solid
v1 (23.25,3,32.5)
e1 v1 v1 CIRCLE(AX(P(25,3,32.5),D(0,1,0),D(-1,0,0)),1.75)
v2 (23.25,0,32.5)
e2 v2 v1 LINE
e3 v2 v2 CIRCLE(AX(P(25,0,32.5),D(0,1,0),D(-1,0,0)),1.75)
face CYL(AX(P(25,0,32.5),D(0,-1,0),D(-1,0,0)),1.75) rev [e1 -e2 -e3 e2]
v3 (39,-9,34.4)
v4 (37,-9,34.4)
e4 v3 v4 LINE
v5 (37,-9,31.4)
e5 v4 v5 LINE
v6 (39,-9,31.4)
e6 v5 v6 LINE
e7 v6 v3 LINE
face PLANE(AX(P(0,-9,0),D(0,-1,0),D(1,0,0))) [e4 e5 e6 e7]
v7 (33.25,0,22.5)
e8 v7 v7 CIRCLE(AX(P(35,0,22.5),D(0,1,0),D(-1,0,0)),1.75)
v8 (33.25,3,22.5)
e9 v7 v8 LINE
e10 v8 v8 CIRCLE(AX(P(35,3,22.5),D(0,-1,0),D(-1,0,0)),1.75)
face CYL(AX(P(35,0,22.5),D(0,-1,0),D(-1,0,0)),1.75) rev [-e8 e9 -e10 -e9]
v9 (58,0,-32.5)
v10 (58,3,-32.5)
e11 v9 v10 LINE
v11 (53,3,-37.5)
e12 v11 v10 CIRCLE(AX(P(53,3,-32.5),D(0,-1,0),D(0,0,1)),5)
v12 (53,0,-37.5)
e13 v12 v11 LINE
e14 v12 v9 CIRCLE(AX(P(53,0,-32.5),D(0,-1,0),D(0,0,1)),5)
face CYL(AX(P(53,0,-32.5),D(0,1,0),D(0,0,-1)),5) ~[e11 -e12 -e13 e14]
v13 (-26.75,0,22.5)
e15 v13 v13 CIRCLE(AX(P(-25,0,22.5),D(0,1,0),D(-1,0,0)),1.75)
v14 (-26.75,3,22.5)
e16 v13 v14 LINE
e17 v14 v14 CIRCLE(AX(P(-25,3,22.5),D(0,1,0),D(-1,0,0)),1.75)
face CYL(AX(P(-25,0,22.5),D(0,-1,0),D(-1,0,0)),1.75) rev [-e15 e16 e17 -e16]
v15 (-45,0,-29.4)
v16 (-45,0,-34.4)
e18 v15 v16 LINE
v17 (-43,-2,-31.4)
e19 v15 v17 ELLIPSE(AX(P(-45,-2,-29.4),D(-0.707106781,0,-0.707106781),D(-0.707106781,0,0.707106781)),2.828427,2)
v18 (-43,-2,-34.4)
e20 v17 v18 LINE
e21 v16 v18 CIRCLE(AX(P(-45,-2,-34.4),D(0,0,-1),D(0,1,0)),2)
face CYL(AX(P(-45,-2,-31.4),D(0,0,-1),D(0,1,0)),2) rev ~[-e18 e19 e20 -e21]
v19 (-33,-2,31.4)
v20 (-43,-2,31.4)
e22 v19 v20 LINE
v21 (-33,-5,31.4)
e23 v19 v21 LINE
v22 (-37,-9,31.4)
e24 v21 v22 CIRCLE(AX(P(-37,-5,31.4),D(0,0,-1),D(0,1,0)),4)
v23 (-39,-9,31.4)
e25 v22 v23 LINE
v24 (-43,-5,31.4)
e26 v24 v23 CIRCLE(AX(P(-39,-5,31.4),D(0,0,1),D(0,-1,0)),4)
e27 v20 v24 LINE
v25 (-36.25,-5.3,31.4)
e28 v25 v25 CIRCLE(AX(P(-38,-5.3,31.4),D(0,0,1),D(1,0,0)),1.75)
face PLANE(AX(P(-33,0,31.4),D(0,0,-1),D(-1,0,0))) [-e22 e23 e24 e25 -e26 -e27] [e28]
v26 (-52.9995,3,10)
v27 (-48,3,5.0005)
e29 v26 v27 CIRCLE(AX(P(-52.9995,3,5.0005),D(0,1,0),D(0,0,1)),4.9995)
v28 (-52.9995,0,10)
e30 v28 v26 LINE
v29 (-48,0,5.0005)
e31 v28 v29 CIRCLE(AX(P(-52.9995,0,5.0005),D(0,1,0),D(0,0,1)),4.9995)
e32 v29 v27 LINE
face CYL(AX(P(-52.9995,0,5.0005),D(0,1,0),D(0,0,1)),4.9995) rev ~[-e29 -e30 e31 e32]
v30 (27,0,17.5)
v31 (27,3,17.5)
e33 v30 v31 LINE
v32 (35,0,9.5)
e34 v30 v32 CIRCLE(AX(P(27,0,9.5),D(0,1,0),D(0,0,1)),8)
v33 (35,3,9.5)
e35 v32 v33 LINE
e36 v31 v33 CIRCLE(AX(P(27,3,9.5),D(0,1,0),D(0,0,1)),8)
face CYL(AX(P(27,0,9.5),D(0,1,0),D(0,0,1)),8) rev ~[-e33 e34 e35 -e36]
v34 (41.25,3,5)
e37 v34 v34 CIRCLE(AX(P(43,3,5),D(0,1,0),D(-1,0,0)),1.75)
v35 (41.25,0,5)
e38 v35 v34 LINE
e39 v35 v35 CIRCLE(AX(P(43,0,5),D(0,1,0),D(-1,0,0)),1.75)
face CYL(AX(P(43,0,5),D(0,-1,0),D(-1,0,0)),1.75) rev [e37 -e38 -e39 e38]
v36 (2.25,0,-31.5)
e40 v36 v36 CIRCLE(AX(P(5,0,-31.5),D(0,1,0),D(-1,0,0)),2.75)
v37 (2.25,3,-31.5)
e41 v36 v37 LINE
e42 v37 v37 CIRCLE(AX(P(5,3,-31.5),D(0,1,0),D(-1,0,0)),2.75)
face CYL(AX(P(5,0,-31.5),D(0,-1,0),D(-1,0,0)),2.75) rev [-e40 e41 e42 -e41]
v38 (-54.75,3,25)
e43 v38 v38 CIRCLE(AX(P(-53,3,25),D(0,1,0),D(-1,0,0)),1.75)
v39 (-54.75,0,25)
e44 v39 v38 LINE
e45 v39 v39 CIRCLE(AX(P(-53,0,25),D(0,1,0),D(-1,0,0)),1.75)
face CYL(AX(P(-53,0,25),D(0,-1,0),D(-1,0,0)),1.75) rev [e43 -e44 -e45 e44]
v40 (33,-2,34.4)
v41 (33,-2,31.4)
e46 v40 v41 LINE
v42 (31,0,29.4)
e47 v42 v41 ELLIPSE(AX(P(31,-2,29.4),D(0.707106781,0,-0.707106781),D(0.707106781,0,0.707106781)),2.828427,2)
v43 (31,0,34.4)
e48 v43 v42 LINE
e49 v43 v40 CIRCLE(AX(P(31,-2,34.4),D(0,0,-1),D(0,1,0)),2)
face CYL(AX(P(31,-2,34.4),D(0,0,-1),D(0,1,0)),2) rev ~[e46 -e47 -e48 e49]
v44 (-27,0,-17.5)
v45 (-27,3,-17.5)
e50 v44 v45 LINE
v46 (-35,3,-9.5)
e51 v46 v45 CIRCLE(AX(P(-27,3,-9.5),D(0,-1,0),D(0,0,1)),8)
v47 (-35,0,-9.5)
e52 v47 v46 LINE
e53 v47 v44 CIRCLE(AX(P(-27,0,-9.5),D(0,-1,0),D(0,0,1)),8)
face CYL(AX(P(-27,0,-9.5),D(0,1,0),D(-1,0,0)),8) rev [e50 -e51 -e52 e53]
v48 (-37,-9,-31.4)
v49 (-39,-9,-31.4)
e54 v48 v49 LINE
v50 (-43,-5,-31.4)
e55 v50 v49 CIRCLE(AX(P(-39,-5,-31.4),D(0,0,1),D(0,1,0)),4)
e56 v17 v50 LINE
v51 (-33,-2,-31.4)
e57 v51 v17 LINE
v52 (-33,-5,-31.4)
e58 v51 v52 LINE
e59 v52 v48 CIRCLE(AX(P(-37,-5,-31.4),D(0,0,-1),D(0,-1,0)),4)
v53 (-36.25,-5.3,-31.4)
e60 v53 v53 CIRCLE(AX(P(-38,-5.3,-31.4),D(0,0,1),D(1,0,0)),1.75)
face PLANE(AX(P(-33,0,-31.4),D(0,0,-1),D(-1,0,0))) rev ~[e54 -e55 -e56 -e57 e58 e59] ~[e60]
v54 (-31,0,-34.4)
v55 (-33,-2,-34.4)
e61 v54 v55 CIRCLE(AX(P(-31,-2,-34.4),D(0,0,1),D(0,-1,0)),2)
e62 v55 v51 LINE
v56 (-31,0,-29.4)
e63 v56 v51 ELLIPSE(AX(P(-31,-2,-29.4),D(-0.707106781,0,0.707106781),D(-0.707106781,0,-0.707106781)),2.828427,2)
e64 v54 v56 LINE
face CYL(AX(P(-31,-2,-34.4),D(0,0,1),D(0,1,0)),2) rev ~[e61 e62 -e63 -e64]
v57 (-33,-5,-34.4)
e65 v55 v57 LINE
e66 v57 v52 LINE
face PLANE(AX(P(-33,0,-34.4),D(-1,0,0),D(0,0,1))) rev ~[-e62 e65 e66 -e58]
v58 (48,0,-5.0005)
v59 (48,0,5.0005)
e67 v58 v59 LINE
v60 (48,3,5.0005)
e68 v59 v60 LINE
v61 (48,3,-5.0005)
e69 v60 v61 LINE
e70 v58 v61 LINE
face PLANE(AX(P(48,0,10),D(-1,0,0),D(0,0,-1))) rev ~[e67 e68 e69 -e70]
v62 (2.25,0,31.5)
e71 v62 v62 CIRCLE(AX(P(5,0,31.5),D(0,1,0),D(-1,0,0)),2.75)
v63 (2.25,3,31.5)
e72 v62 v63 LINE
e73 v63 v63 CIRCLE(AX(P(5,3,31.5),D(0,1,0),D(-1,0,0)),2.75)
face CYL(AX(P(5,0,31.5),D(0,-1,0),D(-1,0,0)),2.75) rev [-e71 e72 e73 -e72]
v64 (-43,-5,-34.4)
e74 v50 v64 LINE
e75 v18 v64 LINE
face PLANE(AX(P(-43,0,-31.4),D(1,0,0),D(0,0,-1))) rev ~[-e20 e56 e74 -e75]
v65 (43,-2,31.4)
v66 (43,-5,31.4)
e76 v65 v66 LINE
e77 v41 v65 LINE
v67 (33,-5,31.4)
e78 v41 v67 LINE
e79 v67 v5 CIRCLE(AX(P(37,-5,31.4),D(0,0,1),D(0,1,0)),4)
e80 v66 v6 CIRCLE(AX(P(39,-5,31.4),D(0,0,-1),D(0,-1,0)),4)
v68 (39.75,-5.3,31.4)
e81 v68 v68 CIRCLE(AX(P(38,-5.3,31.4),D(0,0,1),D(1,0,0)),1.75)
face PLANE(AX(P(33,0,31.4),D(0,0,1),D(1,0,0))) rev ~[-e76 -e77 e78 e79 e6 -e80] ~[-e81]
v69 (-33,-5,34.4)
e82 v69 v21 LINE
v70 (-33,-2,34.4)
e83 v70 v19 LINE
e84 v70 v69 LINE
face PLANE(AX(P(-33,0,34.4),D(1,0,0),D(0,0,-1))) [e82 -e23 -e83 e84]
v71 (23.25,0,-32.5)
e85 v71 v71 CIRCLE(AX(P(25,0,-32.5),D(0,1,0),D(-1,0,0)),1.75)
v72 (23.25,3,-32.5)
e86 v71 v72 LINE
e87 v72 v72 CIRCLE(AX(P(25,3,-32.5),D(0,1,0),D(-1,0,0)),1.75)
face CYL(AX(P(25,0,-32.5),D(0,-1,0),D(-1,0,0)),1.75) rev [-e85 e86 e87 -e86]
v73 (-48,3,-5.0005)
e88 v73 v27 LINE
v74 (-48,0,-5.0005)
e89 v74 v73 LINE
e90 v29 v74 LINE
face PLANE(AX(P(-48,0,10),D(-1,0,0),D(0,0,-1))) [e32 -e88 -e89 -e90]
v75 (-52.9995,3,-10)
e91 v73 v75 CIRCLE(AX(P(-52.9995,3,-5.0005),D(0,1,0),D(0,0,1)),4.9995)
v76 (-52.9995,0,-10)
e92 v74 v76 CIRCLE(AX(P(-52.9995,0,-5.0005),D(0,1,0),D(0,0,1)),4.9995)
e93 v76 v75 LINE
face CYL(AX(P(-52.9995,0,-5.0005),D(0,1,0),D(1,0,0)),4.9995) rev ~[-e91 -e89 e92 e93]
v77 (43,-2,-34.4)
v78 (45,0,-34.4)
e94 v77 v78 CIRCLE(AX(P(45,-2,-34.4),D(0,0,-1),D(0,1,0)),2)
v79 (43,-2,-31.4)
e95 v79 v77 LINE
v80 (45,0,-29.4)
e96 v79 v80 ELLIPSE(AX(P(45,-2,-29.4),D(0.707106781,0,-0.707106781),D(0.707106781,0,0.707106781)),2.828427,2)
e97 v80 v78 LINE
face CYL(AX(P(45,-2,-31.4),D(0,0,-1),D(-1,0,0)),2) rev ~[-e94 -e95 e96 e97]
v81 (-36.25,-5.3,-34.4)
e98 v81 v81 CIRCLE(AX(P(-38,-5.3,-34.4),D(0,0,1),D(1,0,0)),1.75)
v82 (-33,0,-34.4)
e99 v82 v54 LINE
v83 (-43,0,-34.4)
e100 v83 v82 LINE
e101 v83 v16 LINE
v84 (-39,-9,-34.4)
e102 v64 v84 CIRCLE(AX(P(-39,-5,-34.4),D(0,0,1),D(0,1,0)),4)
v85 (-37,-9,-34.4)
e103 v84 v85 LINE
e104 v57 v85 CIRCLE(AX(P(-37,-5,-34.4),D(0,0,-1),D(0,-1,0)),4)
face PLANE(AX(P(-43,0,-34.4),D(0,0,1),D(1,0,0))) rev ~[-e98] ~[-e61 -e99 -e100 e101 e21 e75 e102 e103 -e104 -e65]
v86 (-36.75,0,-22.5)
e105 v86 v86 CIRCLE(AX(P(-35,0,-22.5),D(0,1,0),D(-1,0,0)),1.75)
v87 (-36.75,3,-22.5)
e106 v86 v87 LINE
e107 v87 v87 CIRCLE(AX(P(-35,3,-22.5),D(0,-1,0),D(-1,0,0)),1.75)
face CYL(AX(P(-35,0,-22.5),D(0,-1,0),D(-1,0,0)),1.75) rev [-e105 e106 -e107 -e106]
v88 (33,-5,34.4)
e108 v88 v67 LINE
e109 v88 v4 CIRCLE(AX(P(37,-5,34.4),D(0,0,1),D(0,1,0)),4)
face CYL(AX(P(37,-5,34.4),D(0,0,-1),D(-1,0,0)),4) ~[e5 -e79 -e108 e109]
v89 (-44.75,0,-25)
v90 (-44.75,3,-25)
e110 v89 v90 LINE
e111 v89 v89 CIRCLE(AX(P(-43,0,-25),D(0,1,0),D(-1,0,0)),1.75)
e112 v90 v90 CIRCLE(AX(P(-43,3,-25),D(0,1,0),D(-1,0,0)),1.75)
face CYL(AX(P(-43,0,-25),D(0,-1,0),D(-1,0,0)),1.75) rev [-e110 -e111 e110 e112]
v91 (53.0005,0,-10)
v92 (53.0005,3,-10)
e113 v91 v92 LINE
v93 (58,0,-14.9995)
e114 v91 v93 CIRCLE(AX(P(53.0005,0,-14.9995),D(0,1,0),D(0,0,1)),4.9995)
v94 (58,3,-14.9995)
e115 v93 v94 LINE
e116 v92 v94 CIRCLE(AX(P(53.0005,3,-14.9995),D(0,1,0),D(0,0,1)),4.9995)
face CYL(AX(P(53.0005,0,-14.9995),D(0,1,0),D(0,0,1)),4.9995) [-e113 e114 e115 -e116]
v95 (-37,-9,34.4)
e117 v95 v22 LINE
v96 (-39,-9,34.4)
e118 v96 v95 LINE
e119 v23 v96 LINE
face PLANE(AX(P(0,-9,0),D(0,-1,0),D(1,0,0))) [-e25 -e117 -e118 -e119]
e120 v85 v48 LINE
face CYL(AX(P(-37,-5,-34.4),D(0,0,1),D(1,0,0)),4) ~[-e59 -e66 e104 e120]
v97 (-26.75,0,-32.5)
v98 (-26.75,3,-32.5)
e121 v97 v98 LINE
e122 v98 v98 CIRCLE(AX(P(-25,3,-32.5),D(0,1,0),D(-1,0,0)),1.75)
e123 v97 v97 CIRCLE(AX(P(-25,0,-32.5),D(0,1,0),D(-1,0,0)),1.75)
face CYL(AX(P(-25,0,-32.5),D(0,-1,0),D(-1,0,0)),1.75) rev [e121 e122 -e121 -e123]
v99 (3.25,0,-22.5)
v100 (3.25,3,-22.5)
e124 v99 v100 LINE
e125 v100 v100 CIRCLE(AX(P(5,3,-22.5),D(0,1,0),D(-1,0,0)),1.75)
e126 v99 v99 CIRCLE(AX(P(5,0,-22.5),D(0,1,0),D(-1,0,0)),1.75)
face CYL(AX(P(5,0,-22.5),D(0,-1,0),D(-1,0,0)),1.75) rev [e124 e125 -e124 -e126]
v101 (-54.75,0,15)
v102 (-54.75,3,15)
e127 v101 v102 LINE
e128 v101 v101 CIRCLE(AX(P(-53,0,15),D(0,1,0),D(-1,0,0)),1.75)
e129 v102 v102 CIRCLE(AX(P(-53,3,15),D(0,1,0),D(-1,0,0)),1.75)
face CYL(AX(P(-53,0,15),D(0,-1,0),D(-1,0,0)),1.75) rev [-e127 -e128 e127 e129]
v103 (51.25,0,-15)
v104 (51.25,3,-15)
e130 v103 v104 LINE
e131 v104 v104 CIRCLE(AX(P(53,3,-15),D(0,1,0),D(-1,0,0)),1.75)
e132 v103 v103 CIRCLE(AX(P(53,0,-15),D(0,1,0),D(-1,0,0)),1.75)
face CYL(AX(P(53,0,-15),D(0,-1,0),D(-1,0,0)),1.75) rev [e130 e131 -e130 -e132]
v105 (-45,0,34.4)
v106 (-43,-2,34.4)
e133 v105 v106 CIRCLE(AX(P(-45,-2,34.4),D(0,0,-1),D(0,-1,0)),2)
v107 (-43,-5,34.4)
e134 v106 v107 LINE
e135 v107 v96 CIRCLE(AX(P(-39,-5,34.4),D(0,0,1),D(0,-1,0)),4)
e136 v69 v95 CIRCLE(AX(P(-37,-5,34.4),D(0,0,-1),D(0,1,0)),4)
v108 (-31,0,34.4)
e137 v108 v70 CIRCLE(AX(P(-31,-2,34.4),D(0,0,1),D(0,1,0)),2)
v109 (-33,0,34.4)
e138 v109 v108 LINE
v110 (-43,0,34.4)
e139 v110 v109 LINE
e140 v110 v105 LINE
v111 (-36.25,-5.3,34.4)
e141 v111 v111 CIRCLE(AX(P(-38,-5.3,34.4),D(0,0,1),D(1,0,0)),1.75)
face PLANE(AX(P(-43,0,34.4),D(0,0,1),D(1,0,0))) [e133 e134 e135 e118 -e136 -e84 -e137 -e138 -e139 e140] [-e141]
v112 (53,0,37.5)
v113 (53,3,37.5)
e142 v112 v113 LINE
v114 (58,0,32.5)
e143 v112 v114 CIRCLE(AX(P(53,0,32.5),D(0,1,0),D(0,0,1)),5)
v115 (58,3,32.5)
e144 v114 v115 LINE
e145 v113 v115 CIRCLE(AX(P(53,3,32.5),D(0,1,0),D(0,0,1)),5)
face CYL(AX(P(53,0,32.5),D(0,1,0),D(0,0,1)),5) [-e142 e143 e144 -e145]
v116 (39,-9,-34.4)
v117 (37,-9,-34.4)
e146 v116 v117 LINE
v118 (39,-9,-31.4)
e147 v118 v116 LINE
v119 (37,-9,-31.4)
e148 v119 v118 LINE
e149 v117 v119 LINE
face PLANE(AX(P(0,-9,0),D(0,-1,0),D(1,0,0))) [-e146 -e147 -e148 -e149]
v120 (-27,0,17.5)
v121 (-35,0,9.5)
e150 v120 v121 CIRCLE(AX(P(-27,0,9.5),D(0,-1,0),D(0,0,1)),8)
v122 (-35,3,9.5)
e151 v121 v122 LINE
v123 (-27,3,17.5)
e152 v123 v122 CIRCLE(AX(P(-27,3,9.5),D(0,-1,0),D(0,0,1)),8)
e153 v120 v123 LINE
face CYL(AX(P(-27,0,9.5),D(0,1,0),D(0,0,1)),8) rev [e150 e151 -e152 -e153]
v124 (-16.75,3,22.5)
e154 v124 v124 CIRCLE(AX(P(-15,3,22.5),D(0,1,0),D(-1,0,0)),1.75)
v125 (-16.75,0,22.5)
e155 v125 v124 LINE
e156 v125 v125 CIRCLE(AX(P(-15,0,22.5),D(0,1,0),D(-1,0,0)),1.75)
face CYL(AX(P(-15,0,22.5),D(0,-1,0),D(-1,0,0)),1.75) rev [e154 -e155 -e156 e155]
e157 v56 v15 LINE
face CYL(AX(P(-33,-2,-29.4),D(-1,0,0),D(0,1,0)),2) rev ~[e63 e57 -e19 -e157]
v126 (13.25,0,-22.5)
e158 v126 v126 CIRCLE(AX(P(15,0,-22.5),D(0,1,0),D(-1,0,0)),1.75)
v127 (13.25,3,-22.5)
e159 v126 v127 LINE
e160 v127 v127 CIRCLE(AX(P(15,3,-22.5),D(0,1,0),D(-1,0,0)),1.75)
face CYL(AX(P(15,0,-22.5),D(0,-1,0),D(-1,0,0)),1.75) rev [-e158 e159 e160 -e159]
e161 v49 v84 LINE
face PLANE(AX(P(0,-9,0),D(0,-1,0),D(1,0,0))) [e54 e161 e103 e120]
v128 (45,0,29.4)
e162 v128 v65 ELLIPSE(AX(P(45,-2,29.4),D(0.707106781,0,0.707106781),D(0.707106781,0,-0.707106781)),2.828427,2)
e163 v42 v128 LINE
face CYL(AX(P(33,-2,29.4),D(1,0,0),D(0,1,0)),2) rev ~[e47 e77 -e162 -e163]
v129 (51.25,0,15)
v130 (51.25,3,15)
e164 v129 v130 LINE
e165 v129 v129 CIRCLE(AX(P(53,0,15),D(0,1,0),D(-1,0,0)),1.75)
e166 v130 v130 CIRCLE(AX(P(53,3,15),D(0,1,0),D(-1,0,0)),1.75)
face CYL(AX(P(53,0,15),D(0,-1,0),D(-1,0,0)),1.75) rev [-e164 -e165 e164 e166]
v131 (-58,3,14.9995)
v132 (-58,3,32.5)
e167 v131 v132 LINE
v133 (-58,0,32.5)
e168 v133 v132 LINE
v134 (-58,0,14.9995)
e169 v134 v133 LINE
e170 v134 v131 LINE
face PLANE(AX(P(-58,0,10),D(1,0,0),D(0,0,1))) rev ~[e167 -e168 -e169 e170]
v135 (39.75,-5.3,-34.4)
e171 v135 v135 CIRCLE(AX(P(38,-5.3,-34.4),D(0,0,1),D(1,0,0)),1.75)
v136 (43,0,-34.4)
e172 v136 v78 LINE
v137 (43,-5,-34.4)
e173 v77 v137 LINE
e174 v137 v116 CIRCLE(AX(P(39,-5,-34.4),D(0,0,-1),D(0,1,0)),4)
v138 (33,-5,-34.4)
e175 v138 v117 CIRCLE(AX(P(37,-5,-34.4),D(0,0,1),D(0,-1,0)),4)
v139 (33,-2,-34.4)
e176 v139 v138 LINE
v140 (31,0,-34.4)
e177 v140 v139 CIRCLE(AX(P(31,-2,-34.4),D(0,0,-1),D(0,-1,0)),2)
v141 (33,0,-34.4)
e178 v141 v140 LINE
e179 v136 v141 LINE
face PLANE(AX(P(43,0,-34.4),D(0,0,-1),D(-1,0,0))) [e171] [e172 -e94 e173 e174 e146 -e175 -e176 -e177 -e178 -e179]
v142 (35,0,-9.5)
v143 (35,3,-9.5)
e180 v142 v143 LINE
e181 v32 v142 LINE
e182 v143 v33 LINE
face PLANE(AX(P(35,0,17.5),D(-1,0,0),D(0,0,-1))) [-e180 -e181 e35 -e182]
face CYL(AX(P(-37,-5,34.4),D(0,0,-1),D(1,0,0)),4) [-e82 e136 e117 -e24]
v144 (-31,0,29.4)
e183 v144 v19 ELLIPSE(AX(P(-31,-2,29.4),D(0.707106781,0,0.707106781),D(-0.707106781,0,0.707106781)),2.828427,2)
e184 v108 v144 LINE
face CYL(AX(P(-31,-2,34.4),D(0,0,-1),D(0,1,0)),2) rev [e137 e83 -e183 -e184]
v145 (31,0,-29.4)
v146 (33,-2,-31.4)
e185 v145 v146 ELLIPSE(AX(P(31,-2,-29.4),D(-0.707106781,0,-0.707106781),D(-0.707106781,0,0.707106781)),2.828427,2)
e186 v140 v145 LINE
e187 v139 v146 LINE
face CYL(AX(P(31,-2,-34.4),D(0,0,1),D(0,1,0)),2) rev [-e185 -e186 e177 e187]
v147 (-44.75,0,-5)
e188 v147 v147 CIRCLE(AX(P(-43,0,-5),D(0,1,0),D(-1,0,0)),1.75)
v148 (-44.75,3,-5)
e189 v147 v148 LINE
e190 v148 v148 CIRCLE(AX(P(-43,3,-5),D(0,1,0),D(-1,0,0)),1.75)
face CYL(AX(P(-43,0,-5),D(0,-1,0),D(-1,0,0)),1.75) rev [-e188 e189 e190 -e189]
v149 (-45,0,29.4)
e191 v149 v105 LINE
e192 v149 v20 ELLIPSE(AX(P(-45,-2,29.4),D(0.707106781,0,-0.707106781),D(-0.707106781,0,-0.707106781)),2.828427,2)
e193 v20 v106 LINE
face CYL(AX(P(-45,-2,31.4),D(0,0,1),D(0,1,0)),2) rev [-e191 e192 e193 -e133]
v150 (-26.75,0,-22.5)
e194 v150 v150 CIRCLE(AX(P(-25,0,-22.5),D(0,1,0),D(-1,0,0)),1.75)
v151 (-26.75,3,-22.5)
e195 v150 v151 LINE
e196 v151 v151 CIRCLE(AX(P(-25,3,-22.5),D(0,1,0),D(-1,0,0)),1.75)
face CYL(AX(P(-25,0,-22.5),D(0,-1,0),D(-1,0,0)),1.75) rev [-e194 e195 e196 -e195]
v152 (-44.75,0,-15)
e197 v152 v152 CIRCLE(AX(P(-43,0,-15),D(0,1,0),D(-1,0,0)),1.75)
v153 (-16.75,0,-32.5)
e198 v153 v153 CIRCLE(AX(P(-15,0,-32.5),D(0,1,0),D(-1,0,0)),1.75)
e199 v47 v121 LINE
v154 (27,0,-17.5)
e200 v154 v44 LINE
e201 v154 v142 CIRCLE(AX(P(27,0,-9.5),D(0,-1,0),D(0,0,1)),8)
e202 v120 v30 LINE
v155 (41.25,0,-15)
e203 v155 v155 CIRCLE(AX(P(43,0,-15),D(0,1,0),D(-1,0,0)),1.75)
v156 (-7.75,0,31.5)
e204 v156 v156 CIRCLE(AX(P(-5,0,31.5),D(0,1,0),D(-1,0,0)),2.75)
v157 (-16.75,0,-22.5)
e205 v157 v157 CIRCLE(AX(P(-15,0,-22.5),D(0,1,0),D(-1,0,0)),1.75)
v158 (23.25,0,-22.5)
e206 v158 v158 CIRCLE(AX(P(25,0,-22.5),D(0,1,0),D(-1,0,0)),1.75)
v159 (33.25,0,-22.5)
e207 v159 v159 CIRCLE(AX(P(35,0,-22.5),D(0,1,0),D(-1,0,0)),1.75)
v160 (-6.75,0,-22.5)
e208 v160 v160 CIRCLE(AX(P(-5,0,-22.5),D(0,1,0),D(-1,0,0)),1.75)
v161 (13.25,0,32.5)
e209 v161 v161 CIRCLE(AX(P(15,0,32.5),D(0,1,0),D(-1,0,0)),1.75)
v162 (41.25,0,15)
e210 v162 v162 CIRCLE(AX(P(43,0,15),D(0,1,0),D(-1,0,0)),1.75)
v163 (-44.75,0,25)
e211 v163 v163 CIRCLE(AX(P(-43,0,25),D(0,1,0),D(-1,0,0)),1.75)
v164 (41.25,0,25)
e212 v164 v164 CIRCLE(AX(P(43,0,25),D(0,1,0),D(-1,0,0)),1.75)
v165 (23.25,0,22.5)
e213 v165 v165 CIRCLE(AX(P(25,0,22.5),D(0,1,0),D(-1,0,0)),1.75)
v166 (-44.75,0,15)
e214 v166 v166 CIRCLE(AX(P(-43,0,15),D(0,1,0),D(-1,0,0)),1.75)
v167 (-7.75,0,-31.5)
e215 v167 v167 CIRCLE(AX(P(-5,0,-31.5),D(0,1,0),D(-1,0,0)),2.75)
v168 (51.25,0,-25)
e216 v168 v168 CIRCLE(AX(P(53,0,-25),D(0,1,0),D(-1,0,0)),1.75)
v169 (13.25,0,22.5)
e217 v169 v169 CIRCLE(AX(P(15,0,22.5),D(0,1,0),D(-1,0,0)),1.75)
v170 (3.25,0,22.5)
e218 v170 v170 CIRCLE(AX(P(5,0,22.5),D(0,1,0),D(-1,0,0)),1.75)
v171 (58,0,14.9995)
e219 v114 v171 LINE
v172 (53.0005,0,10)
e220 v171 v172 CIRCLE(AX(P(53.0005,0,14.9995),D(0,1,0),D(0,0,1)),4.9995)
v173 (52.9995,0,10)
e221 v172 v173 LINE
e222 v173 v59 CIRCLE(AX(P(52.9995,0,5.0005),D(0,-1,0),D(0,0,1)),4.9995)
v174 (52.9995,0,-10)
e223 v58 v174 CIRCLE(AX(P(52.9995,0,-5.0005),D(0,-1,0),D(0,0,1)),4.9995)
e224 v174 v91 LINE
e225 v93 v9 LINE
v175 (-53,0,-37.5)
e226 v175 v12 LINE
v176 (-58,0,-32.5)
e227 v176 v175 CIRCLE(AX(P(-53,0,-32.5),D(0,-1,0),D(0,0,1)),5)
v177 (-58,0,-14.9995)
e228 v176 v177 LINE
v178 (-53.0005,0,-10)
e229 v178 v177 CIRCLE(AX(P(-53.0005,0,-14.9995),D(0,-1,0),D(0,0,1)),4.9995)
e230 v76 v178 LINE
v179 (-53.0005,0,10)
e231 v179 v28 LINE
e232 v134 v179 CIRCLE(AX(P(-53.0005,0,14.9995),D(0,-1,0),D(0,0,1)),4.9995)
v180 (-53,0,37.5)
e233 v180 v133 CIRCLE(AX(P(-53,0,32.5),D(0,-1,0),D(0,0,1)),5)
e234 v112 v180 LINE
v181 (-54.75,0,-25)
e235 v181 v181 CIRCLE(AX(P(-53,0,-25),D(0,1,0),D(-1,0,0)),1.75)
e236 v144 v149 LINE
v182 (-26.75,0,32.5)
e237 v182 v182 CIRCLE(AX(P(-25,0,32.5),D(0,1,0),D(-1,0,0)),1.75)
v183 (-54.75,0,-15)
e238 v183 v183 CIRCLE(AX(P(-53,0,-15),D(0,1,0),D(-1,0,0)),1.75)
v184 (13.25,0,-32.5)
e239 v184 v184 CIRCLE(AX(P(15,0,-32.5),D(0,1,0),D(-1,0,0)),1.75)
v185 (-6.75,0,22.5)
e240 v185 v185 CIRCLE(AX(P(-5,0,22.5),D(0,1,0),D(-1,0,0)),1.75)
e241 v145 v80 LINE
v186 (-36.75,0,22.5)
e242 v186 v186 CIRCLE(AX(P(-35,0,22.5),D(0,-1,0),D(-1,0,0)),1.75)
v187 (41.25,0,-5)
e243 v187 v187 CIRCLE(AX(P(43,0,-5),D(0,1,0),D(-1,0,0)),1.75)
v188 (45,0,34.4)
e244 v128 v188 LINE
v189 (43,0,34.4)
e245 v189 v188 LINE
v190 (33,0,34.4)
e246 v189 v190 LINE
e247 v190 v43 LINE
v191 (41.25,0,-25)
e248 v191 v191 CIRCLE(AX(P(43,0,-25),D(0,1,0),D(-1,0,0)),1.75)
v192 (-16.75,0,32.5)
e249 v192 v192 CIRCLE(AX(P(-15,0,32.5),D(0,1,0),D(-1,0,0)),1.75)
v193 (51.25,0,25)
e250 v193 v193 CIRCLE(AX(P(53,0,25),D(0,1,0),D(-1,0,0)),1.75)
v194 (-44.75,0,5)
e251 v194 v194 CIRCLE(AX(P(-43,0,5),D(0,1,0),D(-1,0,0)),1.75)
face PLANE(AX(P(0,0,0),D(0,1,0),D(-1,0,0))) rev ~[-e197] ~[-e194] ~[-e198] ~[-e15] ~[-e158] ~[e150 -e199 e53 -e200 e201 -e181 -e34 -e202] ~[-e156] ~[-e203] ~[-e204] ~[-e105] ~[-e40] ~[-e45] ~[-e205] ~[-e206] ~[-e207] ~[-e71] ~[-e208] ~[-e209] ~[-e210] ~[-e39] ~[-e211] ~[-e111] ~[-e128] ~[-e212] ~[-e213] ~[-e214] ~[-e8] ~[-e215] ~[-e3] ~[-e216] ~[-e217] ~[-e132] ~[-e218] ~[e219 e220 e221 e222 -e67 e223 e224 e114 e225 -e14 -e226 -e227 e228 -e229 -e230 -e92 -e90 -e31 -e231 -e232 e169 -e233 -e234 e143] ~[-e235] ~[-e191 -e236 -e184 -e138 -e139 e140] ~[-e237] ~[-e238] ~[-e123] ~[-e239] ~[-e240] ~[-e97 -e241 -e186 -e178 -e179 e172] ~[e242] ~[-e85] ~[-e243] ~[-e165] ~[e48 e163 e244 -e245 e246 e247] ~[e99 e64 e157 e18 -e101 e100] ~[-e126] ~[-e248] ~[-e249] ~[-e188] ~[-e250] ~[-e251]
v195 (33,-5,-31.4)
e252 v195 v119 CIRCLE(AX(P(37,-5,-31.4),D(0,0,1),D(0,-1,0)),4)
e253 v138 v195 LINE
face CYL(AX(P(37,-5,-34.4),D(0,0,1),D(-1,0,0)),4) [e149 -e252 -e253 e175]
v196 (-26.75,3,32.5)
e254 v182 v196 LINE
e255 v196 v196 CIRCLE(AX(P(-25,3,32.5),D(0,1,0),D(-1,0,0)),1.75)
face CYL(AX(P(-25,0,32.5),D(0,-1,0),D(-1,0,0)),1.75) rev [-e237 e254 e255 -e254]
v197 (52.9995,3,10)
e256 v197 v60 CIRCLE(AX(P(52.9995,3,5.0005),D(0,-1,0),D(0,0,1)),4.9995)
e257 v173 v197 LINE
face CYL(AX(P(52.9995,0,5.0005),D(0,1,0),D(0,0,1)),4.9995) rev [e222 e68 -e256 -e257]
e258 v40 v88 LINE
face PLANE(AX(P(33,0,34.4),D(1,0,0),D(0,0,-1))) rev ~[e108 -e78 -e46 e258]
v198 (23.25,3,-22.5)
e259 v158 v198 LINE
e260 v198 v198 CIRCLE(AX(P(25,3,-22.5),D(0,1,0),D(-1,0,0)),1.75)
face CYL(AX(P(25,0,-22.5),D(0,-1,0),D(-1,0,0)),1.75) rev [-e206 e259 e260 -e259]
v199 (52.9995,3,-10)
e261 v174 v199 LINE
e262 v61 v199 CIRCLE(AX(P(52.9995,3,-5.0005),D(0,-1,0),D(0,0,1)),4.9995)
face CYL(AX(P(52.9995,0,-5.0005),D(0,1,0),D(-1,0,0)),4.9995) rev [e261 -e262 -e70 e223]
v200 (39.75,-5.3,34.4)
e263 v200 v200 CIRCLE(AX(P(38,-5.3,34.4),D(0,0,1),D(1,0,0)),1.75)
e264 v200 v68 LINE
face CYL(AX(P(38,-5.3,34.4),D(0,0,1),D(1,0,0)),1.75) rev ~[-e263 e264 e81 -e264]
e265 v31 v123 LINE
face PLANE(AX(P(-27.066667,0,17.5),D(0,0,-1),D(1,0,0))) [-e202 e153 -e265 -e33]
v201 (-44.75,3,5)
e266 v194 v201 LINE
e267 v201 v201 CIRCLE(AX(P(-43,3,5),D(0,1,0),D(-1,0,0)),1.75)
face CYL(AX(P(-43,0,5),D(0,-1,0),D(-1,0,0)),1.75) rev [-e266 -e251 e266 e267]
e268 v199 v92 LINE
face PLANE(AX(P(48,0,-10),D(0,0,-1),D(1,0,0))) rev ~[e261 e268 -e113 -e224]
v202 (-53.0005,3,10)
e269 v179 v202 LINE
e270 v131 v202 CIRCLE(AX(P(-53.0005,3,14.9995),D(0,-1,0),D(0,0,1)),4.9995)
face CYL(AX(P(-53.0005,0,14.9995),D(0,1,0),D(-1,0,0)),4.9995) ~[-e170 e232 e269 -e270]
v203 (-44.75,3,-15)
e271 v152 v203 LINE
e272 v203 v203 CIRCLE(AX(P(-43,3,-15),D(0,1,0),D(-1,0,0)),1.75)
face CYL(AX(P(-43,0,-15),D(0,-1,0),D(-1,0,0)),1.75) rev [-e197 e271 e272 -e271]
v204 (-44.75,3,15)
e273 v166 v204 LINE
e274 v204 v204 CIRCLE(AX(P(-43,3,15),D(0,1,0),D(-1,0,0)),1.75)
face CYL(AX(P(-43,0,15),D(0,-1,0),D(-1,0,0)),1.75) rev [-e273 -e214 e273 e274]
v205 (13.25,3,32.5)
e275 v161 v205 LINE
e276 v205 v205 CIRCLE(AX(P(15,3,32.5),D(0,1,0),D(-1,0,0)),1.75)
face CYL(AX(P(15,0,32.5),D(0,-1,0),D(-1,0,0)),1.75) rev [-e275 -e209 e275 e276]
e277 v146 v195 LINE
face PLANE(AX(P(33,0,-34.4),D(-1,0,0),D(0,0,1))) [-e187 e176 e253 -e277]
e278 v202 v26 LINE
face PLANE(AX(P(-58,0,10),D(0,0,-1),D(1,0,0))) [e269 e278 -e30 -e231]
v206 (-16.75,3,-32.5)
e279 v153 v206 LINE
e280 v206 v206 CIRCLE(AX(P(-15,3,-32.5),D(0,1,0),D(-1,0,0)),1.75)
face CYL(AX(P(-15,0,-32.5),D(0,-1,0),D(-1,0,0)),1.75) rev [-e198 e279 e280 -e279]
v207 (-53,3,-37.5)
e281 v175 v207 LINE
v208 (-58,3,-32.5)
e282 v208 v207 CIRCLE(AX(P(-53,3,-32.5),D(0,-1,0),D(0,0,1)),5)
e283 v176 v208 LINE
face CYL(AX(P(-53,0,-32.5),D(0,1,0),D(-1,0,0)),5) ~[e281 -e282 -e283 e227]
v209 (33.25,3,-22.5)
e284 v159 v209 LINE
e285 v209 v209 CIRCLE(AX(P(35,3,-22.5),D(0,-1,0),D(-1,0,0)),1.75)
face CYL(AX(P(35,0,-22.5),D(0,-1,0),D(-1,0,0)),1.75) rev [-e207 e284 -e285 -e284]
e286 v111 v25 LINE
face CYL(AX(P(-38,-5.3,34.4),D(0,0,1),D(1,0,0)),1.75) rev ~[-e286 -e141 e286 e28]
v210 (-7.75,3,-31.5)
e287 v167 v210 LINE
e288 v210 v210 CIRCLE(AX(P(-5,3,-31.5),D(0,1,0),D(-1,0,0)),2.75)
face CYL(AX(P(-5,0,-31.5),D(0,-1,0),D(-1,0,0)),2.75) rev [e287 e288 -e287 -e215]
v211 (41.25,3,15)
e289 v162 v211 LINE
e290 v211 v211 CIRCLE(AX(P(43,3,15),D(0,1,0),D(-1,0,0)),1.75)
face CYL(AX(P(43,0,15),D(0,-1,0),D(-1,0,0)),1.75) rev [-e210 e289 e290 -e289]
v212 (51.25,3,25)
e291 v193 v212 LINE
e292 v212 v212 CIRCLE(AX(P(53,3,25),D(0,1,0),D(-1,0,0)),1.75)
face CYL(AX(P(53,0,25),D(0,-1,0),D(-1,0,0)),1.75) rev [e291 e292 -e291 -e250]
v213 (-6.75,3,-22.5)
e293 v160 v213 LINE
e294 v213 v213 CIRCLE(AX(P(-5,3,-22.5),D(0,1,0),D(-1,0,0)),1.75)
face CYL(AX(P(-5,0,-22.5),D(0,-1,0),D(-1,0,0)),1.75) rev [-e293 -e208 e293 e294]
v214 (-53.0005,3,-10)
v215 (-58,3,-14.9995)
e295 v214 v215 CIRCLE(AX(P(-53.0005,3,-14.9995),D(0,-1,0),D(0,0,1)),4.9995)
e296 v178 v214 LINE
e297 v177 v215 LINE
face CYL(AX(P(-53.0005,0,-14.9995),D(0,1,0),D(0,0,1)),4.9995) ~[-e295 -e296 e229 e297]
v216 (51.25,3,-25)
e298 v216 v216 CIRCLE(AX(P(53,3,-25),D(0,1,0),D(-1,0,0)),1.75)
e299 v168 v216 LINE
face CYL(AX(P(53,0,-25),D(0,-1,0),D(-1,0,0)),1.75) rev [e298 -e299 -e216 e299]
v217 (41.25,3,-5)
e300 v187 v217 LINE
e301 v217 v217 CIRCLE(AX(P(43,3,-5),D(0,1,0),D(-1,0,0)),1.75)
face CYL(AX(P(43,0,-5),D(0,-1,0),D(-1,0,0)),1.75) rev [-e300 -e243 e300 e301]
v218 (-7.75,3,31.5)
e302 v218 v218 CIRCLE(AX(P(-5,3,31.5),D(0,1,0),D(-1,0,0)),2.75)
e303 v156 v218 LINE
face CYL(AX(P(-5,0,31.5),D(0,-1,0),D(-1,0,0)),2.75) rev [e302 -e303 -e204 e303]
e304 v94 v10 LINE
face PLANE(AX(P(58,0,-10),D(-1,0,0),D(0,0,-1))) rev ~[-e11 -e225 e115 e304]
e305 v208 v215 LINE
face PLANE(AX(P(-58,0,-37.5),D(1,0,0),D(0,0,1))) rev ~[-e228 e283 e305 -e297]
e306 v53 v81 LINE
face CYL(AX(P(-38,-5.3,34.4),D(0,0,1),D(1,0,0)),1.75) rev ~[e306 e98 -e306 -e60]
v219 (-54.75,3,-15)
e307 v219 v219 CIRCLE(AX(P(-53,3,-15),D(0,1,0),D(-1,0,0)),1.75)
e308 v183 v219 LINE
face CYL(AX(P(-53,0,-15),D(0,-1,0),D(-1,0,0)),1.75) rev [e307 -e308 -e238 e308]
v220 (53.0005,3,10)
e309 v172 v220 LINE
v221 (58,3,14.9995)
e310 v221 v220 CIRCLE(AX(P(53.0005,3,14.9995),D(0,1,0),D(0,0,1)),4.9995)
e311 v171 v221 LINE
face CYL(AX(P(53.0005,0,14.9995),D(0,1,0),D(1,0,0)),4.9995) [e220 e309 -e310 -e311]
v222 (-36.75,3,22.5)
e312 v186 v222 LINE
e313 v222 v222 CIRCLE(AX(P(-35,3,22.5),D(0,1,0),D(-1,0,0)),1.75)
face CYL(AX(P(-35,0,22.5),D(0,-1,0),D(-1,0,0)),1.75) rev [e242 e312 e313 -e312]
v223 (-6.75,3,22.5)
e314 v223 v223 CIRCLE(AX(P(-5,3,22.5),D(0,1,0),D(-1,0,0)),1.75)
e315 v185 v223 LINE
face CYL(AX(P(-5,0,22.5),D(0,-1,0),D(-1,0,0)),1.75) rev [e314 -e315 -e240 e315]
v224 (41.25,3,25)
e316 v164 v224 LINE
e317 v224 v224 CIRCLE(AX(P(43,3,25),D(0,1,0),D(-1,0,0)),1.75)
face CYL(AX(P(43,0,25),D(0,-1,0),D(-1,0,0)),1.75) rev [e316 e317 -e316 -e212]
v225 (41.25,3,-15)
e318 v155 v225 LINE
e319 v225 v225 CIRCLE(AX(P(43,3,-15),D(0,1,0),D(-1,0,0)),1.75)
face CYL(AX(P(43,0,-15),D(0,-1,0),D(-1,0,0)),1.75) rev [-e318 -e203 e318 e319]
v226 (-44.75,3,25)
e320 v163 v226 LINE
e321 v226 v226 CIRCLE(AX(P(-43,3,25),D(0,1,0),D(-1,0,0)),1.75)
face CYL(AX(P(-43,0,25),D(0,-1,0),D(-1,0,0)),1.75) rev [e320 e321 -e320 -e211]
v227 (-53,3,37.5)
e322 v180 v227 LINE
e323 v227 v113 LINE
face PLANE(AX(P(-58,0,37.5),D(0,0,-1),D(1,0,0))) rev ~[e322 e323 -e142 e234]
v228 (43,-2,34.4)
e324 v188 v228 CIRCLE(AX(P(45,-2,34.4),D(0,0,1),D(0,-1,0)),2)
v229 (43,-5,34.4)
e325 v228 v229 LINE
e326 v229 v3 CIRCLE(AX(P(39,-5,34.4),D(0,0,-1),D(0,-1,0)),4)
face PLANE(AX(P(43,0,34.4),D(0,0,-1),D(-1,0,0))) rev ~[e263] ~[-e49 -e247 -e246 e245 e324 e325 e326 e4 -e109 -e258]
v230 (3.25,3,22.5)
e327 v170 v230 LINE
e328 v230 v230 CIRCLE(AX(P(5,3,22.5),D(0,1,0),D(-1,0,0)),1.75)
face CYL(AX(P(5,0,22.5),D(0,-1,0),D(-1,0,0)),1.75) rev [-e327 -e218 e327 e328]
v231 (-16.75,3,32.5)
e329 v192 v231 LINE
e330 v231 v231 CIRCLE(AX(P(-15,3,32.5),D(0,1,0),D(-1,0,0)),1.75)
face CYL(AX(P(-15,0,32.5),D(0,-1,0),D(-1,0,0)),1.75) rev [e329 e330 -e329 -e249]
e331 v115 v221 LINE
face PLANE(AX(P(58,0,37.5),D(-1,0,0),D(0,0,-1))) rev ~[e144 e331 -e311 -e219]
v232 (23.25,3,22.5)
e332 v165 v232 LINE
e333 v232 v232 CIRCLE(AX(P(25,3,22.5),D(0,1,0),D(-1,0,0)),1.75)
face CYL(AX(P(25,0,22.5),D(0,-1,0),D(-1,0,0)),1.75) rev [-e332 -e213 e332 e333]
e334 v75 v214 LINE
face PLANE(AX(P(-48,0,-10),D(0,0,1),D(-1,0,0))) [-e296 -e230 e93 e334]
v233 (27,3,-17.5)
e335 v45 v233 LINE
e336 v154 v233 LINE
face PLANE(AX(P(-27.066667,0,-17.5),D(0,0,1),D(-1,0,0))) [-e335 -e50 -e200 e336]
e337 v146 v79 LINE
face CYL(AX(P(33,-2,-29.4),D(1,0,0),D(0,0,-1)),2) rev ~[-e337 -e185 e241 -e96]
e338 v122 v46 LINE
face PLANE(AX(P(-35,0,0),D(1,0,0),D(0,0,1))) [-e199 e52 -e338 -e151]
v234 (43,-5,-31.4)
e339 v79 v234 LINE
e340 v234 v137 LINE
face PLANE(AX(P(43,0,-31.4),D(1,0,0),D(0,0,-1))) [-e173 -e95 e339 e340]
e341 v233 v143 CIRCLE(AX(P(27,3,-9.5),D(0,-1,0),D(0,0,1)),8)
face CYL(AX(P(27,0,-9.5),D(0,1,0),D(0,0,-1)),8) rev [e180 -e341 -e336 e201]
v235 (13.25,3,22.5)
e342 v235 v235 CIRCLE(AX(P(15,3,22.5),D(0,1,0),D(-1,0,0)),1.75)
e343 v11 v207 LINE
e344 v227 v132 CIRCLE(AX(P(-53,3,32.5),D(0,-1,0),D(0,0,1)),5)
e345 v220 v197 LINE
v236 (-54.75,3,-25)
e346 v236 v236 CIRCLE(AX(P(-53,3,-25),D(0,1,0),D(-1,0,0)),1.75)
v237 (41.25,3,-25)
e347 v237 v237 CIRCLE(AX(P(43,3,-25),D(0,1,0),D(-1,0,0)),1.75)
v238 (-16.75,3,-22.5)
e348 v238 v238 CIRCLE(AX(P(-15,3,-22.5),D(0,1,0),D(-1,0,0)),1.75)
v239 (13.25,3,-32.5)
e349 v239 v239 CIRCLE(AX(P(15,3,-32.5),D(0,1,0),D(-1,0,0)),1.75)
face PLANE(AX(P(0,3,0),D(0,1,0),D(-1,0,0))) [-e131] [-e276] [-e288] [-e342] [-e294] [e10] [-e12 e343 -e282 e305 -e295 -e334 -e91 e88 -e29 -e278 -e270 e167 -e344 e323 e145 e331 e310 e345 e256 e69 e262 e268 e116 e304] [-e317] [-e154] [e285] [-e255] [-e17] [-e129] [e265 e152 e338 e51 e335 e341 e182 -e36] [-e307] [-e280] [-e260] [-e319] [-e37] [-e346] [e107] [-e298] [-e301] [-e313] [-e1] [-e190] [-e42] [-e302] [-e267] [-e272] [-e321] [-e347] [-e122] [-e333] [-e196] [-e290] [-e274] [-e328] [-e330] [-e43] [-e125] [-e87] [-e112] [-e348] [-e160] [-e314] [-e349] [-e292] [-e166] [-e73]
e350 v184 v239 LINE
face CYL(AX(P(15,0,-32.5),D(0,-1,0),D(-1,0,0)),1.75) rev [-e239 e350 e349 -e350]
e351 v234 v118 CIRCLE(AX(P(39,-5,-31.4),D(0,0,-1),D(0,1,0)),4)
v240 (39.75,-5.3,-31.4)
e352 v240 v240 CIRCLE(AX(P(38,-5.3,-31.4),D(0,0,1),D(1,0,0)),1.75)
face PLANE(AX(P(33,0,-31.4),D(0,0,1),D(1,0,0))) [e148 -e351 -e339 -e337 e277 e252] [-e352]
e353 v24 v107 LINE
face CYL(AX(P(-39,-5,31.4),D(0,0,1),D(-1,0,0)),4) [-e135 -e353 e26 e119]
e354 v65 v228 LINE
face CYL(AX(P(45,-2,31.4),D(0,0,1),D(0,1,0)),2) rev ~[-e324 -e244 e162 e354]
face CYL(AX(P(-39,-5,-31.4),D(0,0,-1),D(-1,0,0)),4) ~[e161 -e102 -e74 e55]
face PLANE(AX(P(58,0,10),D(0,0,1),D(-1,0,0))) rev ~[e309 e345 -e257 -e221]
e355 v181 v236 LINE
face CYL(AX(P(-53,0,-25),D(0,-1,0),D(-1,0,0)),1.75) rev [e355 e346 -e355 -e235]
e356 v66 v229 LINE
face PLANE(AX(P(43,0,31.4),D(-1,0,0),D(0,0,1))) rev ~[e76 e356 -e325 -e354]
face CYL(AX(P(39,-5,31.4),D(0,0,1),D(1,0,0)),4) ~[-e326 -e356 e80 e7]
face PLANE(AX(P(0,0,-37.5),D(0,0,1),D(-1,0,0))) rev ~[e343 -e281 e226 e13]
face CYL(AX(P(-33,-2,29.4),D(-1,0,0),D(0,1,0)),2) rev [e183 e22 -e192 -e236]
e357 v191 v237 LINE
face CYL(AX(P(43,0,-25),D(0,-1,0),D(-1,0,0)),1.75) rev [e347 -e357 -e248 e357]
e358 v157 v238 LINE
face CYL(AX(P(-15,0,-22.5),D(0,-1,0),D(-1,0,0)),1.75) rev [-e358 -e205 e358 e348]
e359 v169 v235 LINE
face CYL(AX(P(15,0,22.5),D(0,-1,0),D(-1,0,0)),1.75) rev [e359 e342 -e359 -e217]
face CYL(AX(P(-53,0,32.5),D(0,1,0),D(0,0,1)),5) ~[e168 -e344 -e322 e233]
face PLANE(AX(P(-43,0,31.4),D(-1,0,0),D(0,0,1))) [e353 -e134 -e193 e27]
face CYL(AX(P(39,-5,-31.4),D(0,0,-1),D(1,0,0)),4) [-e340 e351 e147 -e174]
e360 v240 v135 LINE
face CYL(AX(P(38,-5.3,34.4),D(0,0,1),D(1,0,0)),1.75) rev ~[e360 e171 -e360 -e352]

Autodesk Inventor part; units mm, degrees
ref_plane "YZ Plane" through (0, 0, 0) normal (1, 0, 0) x (0, 1, 0)
ref_plane "XZ Plane" through (0, 0, 0) normal (0, 1, 0) x (-1, 0, 0)
ref_plane "XY Plane" through (0, 0, 0) normal (0, 0, 1) x (1, 0, 0)
sketch "Esquisse1" plane through (0, 0, 0) normal (0, 1, 0) x (-1, 0, 0)
  line L0 (58, 37.5) -> (-58, 37.5)
  line L1 (-58, 37.5) -> (-58, -37.5)
  line L2 (-58, -37.5) -> (58, -37.5)
  line L3 (58, -37.5) -> (58, 37.5)
  line L4 (58, 37.5) -> (-58, -37.5)
  line L5 (-58, 37.5) -> (58, -37.5)
  circle A0 centre (53, 25) radius 1.75
  circle A1 centre (53, 15) radius 1.75
  line L6 (67, 0) -> (-72, 0)
  circle A2 centre (43, 25) radius 1.75
  circle A3 centre (43, 15) radius 1.75
  circle A4 centre (43, 5) radius 1.75
  circle A5 centre (53, -25) radius 1.75
  circle A6 centre (53, -15) radius 1.75
  circle A7 centre (43, -25) radius 1.75
  circle A8 centre (43, -15) radius 1.75
  circle A9 centre (43, -5) radius 1.75
  line L7 (0, 58.5) -> (0, -80.5)
  circle A10 centre (-53, 25) radius 1.75
  circle A11 centre (-53, 15) radius 1.75
  circle A12 centre (-43, 25) radius 1.75
  circle A13 centre (-43, 15) radius 1.75
  circle A14 centre (-43, 5) radius 1.75
  circle A15 centre (-43, -25) radius 1.75
  circle A16 centre (-43, -15) radius 1.75
  circle A17 centre (-53, -15) radius 1.75
  circle A18 centre (-43, -5) radius 1.75
  circle A19 centre (-53, -25) radius 1.75
  circle A20 centre (5, 31.5) radius 2.75
  circle A21 centre (5, 22.5) radius 1.75
  circle A22 centre (15, 32.5) radius 1.75
  circle A23 centre (15, 22.5) radius 1.75
  circle A24 centre (25, 32.5) radius 1.75
  circle A25 centre (25, 22.5) radius 1.75
  circle A26 centre (35, 22.5) radius 1.75
  circle A27 centre (-5, 31.5) radius 2.75
  circle A28 centre (-5, 22.5) radius 1.75
  circle A29 centre (-15, 32.5) radius 1.75
  circle A30 centre (-15, 22.5) radius 1.75
  circle A31 centre (-25, 32.5) radius 1.75
  circle A32 centre (-25, 22.5) radius 1.75
  circle A33 centre (-35, 22.5) radius 1.75
  circle A34 centre (5, -31.5) radius 2.75
  circle A35 centre (5, -22.5) radius 1.75
  circle A36 centre (15, -32.5) radius 1.75
  circle A37 centre (15, -22.5) radius 1.75
  circle A38 centre (25, -32.5) radius 1.75
  circle A39 centre (25, -22.5) radius 1.75
  circle A40 centre (35, -22.5) radius 1.75
  circle A41 centre (-35, -22.5) radius 1.75
  circle A42 centre (-25, -22.5) radius 1.75
  circle A43 centre (-25, -32.5) radius 1.75
  circle A44 centre (-15, -22.5) radius 1.75
  circle A45 centre (-15, -32.5) radius 1.75
  circle A46 centre (-5, -22.5) radius 1.75
  circle A47 centre (-5, -31.5) radius 2.75
  line L8 (35, 17.5) -> (-35, 17.5)
  line L9 (-35, 17.5) -> (-35, -17.5)
  line L10 (-35, -17.5) -> (35, -17.5)
  line L11 (35, -17.5) -> (35, 17.5)
  line L12 (35, 17.5) -> (-35, -17.5)
  line L13 (-35, 17.5) -> (35, -17.5)
  line L14 (-58, 10) -> (-48, 10)
  line L15 (-48, 10) -> (-48, -10)
  line L16 (-48, -10) -> (-58, -10)
  line L17 (-58, -10) -> (-58, 10)
  line L18 (-58, 10) -> (-48, -10)
  line L19 (-48, 10) -> (-58, -10)
  line L20 (58, 10) -> (48, 10)
  line L21 (48, 10) -> (48, -10)
  line L22 (48, -10) -> (58, -10)
  line L23 (58, -10) -> (58, 10)
  line L24 (58, 10) -> (48, -10)
  line L25 (48, 10) -> (58, -10)
  point P0 (0, 0)
  point P1 (0, 0)
  point P2 (0, 0)
  point P3 (-53, 0)
  point P4 (53, 0)
  dimension "d0" = 116
  dimension "d1" = 75
  dimension "d3" = 3.5
  dimension "d4" = 3.5
  dimension "d7" = 10
  dimension "d9" = 3.5
  dimension "d10" = 3.5
  dimension "d11" = 3.5
  dimension "d12" = 10
  dimension "d13" = 10
  dimension "d15" = 5
  dimension "d16" = 5
  dimension "d17" = 5
  dimension "d19" = 5.5
  dimension "d20" = 3.5
  dimension "d21" = 3.5
  dimension "d22" = 3.5
  dimension "d23" = 3.5
  dimension "d24" = 3.5
  dimension "d26" = 3.5
  dimension "d27" = 5
  dimension "d28" = 5
  dimension "d30" = 6
  dimension "d31" = 10
  dimension "d32" = 10
  dimension "d33" = 10
  dimension "d34" = 5
  dimension "d35" = 10
  dimension "d36" = 10
  dimension "d37" = 5
  dimension "d38" = 10
  dimension "d40" = 10
  dimension "d44" = 35
  dimension "d45" = 70
  dimension "d64" = 10
  dimension "d65" = 20
  dimension "d66" = 0
  dimension "d67" = 0
  dimension "d68" = 37.5
  dimension "d70" = 9
  dimension "d71" = 15
extrude "Extrusion1" add sketch "Esquisse1" along normal blind 3 contours L4 A26 L8 L7 L0 | L3 L20 L21 L6 L11 L8 L4 A26 | L7 L8 L5 A33 L0 | L5 A33 L8 L9 L6 L15 L14 L1 | L3 L5 A40 L10 L11 L6 L21 L22 | L10 L7 L2 L4 A41 | L4 A41 L1 L16 L15 L6 L9 L10 | L5 A40 L2 L7 L10
fillet "Congé1" radius 5 4 edges at (58, 1.5, 37.5) (58, 1.5, -37.5) (-58, 1.5, -37.5) (-58, 1.5, 37.5)
fillet "Congé2" radius 8 4 edges at (-35, 1.5, -17.5) (-35, 1.5, 17.5) (35, 1.5, 17.5) (35, 1.5, -17.5)
sketch "Esquisse2" plane through (0, 0, 0) normal (0, -1, 0) x (1, 0, 0)
  line L0 (-43, 34.4) -> (-33, 34.4)
  line L1 (-33, 34.4) -> (-33, 31.4)
  line L2 (-33, 31.4) -> (-43, 31.4)
  line L3 (-43, 31.4) -> (-43, 34.4)
  line L4 (-43, 34.4) -> (-33, 31.4)
  line L5 (-43, 31.4) -> (-33, 34.4)
  line L6 (-53, 37.5) -> (53, 37.5) projected
  line L7 (-58, -32.5) -> (-58, 32.5) projected
  line L8 (-92, 0) -> (78, 0)
  line L9 (0, 51) -> (0, -66)
  line L10 (-43, -34.4) -> (-33, -34.4)
  line L11 (-33, -34.4) -> (-33, -31.4)
  line L12 (-33, -31.4) -> (-43, -31.4)
  line L13 (-43, -31.4) -> (-43, -34.4)
  line L14 (-43, -34.4) -> (-33, -31.4)
  line L15 (-43, -31.4) -> (-33, -34.4)
  line L16 (0, -51) -> (0, 66)
  line L17 (43, 34.4) -> (33, 34.4)
  line L18 (33, 34.4) -> (33, 31.4)
  line L19 (33, 31.4) -> (43, 31.4)
  line L20 (43, 31.4) -> (43, 34.4)
  line L21 (43, 34.4) -> (33, 31.4)
  line L22 (43, 31.4) -> (33, 34.4)
  line L23 (43, -34.4) -> (33, -34.4)
  line L24 (33, -34.4) -> (33, -31.4)
  line L25 (33, -31.4) -> (43, -31.4)
  line L26 (43, -31.4) -> (43, -34.4)
  line L27 (43, -34.4) -> (33, -31.4)
  line L28 (43, -31.4) -> (33, -34.4)
  point P0 (0, 0)
  point P1 (-38, 32.9)
  point P2 (-38, -32.9)
  point P3 (38, 32.9)
  point P4 (38, -32.9)
  dimension "d50" = 3
  dimension "d51" = 10
  dimension "d52" = 3.1
  dimension "d53" = 20
extrude "Extrusion2" add sketch "Esquisse2" along normal blind 9
sketch "Esquisse3" plane through (-43, 0, 34.4) normal (0, 0, 1) x (1, 0, 0)
  circle A0 centre (5, -5.3) radius 1.75
  line L0 (-10, 3) -> (96, 3) projected
  line L1 (-10, 0) -> (96, 0) projected
  line L2 (0, 0) -> (0, -9) projected
  line L3 (43, 22) -> (43, -21)
  circle A1 centre (81, -5.3) radius 1.75
  point P0 (43, 0)
  dimension "d56" = 3.5
  dimension "d58" = 5.3
  dimension "d59" = 5
extrude "Extrusion3" cut sketch "Esquisse3" against normal blind 75.25
fillet "Congé3" radius 4 8 edges at (-43, -9, 32.9) (-33, -9, 32.9) (-33, -9, -32.9) (-43, -9, -32.9) (33, -9, -32.9) (43, -9, -32.9) (33, -9, 32.9) (43, -9, 32.9)
fillet "Congé4" radius 2 12 edges at (38, 0, 31.4) (43, 0, 32.9) (33, 0, 32.9) (-38, 0, 31.4) (-33, 0, 32.9) (-43, 0, 32.9) (-38, 0, -31.4) (-43, 0, -32.9) (-33, 0, -32.9) (33, 0, -32.9) (38, 0, -31.4) (43, 0, -32.9)
fillet "Congé5" radius 5 8 edges at (-58, 1.5, -10) (-48, 1.5, -10) (-48, 1.5, 10) (-58, 1.5, 10) (58, 1.5, 10) (48, 1.5, 10) (58, 1.5, -10) (48, 1.5, -10)
properties part number "toit_Impression 3D"
